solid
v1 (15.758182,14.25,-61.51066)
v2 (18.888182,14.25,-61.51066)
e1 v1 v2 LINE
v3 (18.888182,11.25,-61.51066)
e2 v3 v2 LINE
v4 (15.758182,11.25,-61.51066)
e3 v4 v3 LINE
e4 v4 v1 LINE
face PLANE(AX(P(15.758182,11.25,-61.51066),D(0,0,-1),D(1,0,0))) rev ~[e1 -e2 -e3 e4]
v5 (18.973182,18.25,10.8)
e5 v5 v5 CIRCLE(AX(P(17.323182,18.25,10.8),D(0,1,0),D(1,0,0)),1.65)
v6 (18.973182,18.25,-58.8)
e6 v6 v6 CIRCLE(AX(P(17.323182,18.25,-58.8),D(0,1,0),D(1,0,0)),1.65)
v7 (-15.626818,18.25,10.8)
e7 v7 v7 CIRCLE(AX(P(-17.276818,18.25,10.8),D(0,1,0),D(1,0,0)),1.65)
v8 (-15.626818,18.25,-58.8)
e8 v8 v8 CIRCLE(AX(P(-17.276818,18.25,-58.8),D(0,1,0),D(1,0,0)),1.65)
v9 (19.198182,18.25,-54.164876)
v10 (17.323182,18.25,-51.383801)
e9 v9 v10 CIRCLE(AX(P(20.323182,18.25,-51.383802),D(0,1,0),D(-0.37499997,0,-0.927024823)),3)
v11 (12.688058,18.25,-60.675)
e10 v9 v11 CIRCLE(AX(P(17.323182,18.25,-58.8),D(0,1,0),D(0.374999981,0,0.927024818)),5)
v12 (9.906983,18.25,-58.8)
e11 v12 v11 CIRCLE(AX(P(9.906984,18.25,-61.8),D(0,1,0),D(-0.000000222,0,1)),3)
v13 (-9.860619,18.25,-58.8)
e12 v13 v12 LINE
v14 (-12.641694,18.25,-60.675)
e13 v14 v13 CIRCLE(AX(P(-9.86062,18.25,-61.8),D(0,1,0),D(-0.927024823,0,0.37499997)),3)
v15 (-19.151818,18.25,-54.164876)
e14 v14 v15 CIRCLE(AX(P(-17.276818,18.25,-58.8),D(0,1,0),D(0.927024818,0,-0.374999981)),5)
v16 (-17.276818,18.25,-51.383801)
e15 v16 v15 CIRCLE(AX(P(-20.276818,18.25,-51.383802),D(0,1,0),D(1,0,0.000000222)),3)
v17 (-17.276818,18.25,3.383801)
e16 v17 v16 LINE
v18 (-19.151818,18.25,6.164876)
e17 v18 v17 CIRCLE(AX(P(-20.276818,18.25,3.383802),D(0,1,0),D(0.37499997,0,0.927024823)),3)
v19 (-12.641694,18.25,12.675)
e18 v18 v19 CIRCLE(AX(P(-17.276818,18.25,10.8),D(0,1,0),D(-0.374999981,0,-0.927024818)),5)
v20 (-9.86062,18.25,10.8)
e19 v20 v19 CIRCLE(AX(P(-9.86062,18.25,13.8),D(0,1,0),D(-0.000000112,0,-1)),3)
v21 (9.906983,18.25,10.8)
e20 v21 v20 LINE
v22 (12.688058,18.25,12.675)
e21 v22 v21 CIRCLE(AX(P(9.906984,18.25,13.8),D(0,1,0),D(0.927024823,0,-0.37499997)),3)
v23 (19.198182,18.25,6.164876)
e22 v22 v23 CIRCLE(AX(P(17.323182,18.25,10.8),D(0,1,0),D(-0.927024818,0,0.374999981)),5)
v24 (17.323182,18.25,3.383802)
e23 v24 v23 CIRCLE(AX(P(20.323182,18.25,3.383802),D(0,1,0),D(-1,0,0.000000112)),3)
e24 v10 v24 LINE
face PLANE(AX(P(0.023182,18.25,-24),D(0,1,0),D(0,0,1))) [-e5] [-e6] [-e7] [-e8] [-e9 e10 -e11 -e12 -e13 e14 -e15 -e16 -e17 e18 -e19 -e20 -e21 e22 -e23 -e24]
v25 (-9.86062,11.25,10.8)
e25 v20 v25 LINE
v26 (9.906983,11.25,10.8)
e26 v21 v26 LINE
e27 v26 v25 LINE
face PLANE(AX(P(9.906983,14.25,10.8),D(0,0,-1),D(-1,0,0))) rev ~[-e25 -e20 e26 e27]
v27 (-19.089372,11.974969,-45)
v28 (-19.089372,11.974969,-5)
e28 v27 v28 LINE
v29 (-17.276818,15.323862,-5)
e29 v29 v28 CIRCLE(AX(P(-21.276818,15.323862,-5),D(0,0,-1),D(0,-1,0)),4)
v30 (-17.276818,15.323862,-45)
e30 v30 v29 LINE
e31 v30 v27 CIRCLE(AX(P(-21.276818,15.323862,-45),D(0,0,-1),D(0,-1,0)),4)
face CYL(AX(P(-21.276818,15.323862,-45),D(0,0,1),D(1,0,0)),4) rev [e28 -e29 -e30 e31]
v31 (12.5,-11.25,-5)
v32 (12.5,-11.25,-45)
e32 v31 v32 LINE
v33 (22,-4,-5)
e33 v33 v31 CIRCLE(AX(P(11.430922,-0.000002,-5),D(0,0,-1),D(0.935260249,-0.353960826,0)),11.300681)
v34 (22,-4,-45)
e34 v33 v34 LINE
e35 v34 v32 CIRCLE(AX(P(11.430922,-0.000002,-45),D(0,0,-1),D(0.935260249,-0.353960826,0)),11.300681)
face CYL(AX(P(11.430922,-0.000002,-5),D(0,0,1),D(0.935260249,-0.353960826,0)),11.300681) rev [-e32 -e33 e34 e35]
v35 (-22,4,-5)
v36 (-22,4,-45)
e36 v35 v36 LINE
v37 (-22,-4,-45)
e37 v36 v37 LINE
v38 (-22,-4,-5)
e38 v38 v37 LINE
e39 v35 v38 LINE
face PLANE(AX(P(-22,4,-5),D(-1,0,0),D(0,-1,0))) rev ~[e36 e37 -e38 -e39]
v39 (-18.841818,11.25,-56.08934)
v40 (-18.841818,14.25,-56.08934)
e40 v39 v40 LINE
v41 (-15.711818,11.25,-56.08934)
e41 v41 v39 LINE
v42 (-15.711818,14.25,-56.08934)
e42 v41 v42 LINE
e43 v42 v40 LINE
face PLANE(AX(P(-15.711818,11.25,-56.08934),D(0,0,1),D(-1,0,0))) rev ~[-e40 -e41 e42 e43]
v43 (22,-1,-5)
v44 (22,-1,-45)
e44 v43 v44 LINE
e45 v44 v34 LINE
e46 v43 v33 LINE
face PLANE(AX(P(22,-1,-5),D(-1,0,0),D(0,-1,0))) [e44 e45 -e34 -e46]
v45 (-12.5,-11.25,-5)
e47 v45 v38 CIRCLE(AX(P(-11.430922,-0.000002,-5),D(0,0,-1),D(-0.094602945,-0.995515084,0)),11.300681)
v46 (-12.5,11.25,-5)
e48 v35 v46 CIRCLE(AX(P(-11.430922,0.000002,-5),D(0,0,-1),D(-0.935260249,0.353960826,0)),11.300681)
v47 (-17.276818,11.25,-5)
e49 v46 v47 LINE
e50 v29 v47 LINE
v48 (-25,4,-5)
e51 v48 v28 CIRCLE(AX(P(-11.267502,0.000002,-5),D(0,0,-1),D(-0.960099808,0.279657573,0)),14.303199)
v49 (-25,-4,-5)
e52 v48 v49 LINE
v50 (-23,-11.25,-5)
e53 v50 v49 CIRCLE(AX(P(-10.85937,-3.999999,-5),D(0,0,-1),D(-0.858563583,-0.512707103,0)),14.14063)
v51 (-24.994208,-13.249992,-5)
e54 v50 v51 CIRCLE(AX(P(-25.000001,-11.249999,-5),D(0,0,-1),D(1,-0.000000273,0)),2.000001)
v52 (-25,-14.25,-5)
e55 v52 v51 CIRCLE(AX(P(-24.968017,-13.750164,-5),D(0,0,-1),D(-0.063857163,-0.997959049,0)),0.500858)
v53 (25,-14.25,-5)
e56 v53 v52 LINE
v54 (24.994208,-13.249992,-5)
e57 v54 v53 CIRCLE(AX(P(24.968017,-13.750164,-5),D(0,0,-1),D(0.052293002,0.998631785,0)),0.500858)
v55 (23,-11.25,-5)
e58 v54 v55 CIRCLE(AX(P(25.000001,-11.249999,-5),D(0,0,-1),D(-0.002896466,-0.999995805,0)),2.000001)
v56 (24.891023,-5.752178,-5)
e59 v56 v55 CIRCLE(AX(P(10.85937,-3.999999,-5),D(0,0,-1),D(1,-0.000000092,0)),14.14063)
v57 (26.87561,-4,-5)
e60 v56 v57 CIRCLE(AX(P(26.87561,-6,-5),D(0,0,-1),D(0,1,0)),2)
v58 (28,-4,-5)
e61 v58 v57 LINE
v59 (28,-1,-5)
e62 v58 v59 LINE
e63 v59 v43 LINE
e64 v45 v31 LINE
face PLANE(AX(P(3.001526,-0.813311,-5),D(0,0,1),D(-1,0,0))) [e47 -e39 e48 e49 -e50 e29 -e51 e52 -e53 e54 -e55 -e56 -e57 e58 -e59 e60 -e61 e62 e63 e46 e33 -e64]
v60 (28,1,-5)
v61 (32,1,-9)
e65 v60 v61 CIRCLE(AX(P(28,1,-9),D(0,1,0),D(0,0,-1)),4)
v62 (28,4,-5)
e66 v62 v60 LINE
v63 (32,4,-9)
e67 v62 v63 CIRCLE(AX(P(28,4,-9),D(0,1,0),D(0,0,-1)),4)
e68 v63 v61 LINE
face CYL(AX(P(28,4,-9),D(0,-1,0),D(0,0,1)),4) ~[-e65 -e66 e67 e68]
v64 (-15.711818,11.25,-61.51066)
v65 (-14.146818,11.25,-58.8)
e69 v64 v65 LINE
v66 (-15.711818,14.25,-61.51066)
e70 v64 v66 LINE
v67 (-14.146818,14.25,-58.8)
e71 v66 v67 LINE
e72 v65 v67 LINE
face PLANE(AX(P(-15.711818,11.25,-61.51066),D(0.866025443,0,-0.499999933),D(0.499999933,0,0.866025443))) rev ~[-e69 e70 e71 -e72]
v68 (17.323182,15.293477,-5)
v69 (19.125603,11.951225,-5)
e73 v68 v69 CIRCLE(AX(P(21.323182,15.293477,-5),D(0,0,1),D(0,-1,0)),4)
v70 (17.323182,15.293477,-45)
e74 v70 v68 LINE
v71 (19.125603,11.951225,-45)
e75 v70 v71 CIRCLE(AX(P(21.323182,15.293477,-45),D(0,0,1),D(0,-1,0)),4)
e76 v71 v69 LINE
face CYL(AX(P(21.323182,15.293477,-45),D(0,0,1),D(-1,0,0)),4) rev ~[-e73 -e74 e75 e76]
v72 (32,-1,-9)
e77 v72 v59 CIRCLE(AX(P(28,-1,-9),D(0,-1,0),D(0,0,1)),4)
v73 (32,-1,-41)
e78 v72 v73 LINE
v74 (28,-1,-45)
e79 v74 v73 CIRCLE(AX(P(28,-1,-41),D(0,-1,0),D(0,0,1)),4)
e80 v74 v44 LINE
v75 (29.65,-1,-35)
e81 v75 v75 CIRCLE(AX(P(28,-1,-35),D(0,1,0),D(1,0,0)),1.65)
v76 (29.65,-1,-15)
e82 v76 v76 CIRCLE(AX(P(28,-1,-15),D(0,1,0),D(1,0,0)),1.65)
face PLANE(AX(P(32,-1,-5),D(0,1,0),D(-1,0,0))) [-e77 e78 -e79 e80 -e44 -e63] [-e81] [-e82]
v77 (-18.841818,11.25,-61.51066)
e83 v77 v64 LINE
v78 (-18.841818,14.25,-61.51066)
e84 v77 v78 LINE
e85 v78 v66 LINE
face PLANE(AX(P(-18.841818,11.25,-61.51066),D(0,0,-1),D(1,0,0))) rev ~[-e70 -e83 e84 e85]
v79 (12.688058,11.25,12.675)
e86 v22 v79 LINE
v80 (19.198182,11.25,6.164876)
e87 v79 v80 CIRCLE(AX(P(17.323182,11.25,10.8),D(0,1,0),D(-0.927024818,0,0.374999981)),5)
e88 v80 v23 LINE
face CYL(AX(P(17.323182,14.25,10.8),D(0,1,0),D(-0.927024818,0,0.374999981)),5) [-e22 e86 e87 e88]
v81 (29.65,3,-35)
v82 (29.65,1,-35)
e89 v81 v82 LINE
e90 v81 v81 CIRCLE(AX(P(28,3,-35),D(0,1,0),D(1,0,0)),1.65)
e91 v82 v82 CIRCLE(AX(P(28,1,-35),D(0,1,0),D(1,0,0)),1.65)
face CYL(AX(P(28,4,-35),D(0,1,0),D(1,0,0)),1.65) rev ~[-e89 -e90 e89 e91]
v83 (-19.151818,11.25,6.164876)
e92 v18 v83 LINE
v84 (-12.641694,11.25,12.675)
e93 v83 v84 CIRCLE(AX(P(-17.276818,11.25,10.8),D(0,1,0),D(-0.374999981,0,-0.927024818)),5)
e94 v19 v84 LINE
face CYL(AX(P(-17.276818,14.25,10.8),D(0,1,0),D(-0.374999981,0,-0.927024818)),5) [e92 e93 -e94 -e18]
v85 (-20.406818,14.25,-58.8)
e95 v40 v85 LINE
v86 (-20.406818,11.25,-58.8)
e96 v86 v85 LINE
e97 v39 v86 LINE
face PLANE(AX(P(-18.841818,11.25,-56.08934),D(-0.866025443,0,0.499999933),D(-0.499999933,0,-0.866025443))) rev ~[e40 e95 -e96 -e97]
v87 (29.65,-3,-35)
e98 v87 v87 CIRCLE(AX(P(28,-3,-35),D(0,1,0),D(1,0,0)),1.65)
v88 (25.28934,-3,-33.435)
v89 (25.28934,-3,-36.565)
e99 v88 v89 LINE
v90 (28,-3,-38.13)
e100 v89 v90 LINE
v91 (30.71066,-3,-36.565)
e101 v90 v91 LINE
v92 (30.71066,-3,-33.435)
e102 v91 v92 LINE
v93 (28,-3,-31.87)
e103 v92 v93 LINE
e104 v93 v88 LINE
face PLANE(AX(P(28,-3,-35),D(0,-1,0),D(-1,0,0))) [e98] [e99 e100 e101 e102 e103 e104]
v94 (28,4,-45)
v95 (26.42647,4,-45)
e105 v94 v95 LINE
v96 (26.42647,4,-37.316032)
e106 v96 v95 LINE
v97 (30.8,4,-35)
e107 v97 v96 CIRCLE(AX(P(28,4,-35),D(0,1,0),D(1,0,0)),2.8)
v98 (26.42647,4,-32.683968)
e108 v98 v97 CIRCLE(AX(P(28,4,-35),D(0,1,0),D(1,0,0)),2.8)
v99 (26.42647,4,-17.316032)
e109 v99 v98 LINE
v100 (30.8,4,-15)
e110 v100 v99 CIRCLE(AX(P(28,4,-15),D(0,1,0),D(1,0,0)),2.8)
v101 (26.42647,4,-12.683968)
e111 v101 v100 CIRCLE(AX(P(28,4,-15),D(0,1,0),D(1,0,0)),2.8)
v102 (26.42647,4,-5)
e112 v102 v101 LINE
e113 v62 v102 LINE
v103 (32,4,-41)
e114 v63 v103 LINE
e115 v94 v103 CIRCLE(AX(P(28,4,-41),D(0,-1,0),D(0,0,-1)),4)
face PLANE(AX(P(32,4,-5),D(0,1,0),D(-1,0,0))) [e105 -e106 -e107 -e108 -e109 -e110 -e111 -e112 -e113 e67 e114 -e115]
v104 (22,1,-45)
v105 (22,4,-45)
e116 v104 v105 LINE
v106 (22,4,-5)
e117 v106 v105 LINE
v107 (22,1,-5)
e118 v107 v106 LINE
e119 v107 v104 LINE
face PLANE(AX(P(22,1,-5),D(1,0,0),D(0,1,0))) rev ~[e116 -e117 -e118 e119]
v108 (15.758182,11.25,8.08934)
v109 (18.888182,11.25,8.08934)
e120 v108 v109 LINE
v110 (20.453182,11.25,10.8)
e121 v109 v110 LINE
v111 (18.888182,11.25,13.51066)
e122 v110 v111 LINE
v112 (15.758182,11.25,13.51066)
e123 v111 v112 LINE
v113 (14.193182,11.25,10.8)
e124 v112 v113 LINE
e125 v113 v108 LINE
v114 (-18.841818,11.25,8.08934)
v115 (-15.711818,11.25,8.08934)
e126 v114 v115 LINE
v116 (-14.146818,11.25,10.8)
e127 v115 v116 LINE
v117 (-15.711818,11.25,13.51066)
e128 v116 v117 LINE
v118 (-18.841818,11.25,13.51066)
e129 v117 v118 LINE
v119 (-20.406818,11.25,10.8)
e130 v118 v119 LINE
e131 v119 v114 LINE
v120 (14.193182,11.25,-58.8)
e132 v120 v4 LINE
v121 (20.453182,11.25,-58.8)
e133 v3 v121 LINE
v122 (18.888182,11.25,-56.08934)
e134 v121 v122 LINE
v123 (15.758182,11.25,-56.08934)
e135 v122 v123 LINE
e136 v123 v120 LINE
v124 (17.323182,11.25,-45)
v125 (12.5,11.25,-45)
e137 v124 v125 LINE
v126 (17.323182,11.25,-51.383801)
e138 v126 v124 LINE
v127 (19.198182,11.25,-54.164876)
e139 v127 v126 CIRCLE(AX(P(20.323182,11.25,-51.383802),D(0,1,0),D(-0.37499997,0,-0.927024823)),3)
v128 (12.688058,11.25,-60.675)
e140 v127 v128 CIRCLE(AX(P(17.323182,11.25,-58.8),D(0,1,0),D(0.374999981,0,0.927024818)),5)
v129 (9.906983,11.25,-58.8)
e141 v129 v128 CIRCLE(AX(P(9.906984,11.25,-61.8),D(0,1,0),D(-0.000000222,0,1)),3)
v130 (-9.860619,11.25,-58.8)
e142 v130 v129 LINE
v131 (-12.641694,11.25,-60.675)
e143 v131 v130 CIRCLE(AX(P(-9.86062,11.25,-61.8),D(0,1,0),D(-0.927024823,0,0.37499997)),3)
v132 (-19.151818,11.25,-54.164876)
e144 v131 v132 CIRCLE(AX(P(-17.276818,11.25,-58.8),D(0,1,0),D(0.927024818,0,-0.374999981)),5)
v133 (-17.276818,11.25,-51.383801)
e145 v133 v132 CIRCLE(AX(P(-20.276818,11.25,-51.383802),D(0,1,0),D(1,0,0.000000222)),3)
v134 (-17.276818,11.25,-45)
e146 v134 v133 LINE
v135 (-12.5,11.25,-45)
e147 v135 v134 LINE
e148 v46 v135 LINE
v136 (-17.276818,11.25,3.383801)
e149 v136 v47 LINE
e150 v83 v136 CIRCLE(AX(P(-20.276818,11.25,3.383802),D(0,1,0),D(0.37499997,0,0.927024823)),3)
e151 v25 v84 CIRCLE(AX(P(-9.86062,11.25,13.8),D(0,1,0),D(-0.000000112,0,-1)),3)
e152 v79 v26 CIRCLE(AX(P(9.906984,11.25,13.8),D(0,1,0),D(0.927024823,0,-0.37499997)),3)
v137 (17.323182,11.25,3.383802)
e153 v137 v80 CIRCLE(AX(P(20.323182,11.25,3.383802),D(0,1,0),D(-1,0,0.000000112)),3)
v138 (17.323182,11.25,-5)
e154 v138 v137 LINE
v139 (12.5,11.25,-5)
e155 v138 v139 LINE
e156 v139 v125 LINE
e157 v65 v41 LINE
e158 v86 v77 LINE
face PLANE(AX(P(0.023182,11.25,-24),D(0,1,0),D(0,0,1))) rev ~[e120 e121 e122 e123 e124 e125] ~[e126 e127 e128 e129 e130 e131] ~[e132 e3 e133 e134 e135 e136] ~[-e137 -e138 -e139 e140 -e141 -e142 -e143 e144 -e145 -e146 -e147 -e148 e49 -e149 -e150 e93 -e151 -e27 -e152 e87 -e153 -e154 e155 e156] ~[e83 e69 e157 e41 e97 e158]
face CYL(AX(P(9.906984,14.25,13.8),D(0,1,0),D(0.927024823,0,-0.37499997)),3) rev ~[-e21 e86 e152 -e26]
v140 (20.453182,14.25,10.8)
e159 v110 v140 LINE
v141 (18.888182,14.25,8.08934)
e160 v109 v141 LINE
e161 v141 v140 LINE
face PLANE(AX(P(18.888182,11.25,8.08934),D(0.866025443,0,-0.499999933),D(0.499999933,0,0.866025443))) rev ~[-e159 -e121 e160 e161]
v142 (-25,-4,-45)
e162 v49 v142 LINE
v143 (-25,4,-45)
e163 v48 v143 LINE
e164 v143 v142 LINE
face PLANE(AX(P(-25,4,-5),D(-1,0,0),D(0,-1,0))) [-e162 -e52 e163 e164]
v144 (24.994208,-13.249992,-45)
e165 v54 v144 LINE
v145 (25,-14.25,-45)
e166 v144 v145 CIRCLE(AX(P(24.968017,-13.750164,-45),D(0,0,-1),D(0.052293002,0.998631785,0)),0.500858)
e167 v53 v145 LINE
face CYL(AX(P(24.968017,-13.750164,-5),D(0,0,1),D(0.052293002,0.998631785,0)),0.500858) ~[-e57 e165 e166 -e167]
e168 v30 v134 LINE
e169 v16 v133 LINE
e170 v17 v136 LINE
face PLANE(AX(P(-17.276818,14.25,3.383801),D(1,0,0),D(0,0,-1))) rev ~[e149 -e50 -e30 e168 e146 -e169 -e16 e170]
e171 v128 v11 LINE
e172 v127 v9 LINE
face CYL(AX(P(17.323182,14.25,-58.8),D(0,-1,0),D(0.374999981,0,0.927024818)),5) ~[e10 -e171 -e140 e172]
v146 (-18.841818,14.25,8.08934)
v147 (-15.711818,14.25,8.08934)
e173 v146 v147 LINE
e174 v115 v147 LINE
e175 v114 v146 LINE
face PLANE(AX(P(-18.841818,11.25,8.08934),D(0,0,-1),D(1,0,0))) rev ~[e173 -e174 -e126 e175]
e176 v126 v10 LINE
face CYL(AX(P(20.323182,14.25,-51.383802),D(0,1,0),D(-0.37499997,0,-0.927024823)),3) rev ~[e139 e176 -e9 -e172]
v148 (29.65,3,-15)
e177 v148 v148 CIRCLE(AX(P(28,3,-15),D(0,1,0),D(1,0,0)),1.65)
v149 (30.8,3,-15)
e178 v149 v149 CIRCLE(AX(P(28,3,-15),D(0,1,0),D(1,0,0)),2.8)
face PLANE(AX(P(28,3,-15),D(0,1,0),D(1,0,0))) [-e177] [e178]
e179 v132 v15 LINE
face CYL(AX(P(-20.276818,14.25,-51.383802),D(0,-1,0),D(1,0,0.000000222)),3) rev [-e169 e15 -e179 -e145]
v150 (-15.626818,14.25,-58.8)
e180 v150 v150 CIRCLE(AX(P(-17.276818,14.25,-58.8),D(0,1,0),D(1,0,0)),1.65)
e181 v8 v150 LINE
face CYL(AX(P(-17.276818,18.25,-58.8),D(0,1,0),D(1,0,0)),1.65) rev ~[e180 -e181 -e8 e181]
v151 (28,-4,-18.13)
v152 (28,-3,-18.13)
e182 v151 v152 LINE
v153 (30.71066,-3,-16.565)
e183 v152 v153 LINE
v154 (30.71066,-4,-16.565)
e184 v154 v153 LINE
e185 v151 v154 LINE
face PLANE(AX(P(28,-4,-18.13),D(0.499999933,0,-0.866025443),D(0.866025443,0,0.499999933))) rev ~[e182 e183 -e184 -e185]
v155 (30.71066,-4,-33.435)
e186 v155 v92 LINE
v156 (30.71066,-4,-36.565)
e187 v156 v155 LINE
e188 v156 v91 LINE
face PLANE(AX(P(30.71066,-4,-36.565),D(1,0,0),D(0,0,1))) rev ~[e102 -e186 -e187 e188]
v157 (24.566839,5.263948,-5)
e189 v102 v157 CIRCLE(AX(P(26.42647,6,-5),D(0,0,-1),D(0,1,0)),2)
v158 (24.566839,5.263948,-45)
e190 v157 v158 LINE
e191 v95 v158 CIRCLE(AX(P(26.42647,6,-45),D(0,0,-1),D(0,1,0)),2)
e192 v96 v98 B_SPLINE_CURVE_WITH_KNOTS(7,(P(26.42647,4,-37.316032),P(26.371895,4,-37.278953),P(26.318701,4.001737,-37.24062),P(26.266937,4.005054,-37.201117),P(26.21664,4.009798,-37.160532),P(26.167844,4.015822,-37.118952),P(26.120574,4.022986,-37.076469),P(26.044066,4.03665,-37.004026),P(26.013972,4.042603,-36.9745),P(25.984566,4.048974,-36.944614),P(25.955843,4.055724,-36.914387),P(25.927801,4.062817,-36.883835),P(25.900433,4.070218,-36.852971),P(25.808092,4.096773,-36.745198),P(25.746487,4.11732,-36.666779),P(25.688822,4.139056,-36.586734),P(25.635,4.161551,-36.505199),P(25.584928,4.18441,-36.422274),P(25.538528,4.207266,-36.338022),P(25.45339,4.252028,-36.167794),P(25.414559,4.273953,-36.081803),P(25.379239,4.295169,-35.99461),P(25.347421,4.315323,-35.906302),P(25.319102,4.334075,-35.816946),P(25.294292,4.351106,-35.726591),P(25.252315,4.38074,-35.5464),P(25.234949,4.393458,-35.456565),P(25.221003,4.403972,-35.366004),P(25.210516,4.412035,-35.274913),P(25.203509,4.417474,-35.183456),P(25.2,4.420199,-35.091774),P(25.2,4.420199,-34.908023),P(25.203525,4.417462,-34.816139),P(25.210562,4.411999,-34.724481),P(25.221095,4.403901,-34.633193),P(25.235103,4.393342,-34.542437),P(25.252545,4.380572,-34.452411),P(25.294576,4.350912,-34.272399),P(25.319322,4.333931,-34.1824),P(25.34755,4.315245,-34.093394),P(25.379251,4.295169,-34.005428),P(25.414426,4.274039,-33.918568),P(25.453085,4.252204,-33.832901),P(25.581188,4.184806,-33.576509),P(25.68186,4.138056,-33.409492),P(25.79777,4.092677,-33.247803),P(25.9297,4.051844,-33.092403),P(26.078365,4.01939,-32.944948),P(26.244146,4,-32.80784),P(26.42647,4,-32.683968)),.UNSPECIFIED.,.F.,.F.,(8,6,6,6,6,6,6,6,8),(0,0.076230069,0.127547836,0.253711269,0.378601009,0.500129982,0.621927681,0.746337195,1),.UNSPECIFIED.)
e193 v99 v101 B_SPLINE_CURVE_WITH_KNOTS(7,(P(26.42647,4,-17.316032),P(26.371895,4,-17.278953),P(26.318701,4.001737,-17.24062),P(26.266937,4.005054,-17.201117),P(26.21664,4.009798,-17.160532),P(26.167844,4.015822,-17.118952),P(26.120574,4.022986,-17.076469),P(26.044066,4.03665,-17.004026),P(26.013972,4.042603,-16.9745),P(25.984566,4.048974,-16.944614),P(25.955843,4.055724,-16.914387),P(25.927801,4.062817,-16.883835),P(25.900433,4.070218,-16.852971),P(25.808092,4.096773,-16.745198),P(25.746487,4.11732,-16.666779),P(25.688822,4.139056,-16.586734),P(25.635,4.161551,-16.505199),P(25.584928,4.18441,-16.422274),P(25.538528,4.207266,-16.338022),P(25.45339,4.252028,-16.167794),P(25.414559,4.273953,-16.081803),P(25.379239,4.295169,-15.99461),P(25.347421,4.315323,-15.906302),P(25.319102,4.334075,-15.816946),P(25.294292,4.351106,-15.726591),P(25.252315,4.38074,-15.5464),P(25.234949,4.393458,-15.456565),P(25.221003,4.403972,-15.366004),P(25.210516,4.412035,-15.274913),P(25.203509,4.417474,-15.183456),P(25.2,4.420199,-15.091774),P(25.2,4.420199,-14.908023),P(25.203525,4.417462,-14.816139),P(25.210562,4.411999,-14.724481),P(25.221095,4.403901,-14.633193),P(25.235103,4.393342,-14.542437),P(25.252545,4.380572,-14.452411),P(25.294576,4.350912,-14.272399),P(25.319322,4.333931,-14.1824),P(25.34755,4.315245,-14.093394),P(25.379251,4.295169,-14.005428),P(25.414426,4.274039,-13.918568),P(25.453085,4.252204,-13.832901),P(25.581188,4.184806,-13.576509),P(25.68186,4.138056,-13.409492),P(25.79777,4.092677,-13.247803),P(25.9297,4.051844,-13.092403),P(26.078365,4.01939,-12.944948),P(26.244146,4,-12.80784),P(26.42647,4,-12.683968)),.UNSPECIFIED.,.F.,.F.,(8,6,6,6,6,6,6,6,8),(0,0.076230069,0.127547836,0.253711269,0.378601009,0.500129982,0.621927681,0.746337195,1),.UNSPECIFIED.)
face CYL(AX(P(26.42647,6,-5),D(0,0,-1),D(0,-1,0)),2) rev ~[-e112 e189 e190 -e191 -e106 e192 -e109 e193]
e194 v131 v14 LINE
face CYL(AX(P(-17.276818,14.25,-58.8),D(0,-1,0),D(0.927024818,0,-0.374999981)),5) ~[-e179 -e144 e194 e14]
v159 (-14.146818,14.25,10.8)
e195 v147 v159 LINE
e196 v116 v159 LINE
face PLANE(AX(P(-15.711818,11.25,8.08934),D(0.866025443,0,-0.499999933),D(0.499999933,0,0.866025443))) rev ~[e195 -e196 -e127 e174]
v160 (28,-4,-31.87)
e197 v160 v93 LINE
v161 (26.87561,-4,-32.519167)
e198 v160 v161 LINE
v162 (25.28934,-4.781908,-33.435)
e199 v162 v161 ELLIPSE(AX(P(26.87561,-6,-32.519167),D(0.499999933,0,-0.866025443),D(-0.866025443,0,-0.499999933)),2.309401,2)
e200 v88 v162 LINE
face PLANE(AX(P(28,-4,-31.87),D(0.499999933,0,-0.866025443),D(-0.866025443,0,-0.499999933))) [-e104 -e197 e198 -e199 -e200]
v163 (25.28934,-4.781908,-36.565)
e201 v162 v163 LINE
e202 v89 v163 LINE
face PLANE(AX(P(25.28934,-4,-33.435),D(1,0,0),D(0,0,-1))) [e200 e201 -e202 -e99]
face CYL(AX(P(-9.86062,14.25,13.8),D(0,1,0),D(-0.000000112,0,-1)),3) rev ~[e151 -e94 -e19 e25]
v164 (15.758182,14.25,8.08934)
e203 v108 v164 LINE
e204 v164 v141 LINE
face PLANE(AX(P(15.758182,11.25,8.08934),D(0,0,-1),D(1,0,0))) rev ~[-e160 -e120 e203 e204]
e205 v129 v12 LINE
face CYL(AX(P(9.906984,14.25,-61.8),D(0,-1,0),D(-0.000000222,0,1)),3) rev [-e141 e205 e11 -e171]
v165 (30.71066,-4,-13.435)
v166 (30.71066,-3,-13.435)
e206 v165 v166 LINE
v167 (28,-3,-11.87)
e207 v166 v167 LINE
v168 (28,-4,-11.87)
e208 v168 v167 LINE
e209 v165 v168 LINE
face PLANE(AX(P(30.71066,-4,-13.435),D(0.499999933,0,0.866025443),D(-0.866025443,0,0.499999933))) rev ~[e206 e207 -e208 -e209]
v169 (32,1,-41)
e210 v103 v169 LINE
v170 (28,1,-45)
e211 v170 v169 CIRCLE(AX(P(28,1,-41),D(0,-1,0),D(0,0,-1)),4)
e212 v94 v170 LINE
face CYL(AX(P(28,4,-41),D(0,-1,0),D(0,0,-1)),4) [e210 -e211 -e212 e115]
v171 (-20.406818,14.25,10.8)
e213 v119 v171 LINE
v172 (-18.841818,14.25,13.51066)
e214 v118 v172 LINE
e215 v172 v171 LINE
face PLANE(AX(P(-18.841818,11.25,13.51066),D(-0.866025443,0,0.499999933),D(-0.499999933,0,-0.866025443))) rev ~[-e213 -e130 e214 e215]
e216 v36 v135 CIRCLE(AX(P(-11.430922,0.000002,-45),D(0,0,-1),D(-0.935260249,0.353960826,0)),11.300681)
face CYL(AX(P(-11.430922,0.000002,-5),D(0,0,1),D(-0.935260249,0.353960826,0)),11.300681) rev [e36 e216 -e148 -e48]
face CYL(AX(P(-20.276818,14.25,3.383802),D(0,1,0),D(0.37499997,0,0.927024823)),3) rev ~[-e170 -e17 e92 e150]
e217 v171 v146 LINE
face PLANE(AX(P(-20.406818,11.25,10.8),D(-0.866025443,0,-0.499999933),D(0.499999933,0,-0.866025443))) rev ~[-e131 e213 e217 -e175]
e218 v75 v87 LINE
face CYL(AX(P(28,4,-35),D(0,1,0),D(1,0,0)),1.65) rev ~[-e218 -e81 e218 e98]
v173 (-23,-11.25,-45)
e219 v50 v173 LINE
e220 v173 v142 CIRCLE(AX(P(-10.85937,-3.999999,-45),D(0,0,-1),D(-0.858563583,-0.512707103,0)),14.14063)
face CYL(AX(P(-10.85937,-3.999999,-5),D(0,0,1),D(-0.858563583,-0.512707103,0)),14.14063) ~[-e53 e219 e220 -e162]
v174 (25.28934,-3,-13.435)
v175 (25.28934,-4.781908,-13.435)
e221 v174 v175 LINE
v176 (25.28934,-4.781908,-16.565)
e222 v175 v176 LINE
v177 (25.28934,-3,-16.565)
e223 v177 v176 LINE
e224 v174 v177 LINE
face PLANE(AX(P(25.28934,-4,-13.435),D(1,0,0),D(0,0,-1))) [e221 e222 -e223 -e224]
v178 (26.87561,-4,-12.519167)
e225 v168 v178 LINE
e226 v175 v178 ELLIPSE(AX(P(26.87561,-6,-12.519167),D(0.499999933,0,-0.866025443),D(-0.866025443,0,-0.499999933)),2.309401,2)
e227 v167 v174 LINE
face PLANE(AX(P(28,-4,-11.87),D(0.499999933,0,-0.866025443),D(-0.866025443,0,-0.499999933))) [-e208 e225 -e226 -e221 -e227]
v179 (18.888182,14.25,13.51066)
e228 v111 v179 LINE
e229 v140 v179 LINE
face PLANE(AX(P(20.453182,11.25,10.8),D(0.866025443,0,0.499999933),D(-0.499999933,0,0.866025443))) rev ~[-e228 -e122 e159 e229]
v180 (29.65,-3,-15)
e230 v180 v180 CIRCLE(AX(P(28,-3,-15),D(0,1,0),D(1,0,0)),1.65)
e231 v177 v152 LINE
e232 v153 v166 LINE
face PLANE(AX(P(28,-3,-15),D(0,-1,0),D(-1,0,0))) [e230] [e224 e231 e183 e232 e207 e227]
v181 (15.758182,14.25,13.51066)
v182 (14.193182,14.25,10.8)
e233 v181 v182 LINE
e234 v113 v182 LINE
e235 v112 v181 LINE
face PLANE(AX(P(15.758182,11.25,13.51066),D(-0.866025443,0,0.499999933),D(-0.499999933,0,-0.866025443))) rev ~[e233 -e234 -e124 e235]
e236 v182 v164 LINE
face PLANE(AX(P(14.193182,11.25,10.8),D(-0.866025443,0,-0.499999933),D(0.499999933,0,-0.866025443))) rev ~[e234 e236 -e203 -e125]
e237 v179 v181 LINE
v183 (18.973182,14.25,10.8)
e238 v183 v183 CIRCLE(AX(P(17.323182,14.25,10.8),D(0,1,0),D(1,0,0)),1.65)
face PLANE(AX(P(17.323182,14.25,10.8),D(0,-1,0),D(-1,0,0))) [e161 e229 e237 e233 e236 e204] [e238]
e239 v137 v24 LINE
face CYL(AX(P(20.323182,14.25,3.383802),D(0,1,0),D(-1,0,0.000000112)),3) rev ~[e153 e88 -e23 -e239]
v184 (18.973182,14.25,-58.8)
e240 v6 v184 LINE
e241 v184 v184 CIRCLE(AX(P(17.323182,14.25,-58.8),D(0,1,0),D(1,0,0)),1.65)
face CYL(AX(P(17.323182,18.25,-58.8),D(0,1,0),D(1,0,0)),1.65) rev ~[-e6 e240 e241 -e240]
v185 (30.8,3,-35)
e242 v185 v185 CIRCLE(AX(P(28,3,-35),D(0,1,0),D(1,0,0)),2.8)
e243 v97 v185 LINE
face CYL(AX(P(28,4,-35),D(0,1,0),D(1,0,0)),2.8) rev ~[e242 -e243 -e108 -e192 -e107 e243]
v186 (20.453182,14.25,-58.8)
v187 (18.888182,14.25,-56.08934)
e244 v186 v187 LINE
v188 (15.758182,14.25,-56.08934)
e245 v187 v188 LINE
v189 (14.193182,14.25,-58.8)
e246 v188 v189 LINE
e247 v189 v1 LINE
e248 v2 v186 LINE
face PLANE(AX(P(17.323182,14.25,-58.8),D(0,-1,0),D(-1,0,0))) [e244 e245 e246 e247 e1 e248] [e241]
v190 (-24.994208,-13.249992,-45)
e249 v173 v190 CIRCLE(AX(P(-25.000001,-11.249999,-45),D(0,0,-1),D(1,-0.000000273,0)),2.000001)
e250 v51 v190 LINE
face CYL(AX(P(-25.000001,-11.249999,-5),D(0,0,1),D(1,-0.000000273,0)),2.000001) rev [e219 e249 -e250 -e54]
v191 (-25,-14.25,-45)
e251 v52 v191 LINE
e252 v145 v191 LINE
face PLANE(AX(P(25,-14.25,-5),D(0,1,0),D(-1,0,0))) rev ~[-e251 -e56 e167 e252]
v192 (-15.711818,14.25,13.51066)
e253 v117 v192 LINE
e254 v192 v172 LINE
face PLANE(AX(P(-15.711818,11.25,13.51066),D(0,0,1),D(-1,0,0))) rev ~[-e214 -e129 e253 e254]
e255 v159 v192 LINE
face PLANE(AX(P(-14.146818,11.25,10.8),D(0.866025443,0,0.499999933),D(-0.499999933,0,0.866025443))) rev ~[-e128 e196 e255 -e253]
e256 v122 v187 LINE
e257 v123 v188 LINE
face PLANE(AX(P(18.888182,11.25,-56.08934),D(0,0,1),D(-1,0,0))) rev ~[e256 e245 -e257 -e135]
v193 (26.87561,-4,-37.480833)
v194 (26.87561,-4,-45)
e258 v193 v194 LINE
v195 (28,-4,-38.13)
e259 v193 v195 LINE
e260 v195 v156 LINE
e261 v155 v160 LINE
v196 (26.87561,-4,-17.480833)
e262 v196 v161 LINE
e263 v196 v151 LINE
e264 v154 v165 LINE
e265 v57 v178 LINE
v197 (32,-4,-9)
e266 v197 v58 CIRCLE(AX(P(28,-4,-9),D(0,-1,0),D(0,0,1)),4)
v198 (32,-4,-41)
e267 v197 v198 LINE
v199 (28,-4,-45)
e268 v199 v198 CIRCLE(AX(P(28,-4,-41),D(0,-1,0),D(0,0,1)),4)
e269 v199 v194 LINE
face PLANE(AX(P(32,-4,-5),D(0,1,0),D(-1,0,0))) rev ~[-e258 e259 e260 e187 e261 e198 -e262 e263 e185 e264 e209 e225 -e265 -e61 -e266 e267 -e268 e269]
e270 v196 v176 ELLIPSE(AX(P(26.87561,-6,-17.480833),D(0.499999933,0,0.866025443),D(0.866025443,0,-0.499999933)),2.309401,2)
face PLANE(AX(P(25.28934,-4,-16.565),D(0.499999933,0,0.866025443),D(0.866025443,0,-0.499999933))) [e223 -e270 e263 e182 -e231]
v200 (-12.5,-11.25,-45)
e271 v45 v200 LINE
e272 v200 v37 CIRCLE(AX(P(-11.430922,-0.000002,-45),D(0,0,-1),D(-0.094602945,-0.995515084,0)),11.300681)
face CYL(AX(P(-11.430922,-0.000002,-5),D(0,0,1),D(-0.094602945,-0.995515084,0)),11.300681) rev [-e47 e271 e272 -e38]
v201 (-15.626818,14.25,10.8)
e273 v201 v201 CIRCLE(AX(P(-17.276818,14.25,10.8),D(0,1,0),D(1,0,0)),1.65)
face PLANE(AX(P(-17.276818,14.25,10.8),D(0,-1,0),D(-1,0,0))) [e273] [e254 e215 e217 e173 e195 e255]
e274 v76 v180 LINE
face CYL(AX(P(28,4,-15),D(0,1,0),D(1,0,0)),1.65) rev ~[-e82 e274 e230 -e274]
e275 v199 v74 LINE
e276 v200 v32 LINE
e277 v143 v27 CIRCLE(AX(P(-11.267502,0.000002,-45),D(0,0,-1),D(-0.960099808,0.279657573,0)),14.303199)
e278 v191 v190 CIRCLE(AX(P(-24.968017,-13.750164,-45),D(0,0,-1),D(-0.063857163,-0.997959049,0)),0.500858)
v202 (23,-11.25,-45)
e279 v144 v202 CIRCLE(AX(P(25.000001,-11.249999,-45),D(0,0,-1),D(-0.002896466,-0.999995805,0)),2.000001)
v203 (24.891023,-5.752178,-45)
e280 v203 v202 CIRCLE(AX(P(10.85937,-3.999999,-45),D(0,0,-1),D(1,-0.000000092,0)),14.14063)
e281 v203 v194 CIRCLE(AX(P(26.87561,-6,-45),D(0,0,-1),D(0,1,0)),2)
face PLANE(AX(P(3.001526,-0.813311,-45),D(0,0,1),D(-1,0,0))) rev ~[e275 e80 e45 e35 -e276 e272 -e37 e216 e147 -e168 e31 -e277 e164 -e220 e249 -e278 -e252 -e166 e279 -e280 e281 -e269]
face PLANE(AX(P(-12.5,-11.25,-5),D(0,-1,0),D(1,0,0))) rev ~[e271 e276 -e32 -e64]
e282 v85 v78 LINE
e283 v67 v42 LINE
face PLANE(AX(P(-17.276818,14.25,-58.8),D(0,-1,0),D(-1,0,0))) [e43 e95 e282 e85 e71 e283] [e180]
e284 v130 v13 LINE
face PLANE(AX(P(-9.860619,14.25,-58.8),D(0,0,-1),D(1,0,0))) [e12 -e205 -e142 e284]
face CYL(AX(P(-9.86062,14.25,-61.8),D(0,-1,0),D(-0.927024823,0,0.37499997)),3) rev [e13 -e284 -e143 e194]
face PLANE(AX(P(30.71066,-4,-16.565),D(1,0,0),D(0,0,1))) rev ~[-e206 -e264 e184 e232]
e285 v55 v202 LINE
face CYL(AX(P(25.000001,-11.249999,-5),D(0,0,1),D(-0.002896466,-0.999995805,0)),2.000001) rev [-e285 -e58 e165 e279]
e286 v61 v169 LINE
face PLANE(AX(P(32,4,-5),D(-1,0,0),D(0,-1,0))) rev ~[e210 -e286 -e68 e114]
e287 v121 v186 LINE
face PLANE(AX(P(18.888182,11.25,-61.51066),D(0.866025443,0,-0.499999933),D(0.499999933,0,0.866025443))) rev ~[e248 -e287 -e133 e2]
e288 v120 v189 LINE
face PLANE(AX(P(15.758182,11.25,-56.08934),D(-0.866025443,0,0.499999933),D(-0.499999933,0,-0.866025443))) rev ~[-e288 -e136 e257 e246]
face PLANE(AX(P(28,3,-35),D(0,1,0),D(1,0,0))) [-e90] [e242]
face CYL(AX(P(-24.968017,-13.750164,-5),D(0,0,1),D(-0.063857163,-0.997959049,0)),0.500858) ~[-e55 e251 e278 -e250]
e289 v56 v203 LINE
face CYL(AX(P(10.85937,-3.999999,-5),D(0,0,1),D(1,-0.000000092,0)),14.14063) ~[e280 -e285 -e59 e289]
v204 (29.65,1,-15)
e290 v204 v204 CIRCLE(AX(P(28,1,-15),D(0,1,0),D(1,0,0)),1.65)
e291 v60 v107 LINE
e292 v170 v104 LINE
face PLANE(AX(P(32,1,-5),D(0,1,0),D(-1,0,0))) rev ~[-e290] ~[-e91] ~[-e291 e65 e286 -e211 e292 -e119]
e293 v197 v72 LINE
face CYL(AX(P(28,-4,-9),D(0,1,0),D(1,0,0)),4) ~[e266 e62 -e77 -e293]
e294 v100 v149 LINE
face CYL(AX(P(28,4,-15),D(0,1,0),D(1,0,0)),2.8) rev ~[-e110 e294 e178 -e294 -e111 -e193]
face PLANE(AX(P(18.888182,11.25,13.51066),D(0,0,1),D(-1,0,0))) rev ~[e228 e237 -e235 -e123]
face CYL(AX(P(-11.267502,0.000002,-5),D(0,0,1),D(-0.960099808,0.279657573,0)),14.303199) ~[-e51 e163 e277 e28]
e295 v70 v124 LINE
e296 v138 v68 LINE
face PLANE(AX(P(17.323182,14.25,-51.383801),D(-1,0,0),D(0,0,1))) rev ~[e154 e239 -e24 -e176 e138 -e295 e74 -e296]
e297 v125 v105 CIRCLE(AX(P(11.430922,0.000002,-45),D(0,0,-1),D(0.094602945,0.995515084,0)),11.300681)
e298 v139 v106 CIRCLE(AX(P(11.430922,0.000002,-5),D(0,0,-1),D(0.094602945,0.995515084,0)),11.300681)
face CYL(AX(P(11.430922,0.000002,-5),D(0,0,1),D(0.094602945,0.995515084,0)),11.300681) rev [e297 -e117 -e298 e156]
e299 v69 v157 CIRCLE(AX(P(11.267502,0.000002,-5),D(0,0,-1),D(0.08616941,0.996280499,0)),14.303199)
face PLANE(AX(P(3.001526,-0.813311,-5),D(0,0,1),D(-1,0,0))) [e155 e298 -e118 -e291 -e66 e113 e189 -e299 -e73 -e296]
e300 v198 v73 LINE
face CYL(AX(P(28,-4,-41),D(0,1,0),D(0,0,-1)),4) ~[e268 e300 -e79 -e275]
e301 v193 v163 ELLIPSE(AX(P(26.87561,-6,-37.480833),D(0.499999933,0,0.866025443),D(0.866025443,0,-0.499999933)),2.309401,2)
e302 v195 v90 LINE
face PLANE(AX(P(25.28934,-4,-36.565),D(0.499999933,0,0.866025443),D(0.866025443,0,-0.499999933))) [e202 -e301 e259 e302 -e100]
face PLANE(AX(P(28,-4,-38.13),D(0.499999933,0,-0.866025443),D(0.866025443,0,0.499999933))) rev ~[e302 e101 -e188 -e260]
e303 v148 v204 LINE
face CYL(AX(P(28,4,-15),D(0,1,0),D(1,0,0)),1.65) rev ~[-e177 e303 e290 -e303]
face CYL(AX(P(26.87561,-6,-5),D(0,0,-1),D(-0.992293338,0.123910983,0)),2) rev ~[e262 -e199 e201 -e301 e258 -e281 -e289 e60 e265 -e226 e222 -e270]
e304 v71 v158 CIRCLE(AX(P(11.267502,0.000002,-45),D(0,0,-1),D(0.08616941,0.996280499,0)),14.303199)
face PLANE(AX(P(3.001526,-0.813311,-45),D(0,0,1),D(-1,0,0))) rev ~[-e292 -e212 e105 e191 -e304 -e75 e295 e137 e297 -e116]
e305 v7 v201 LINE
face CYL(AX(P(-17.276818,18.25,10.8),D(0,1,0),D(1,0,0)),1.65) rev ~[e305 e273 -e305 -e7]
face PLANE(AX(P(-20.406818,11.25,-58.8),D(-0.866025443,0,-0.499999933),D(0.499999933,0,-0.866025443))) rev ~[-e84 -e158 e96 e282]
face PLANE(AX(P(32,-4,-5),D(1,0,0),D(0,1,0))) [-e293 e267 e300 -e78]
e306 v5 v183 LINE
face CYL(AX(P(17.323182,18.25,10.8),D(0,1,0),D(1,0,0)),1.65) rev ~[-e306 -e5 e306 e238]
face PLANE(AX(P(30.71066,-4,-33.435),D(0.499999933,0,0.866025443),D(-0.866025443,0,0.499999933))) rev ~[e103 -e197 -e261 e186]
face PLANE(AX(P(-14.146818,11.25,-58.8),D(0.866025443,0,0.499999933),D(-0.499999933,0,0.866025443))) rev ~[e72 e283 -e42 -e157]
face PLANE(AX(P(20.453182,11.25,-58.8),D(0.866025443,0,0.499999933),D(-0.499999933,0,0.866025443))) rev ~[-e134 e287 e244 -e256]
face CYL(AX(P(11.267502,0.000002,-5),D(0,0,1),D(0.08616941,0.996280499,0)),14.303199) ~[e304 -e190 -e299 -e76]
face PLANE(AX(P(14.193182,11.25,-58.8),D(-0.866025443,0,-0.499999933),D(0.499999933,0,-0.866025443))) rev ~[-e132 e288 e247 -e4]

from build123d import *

# Parameters (mm, degrees)
PAD_DEPTH            = 40
PAD001_DEPTH         = 4
PAD001_DEPTH_BACK    = 3
FILLET_R             = 2
FILLET001_R          = 4
FILLET002_R          = 4
SKETCH_R             = 1.65
HOLE_DEPTH           = 32.501
SKETCH003_R          = 1.65
HOLE001_DEPTH        = 18.251
POCKET_DEPTH         = 1
POCKET_DEPTH_BACK    = 2
SKETCH005_R          = 2.8
POCKET001_DEPTH      = 1
POCKET001_DEPTH_BACK = 2
POCKET002_DEPTH      = 3


with BuildPart() as part:
    # Sketch001 → Pad (new body)
    with BuildSketch(Plane(origin=(0, 0, -5), x_dir=(1, 0, 0), z_dir=(0, 0, -1))):
        with BuildLine():
            ThreePointArc((12.5, -11.25), (18.286744, -8.983492), (22, -4))
            Line((22, -1), (22, -4))
            Line((32, -1), (22, -1))
            Line((32, -4), (32, -1))
            Line((32, -4), (25, -4))
            ThreePointArc((12.5, -14.25), (20.336868, -11.060205), (25, -4))
            Line((-12.5, -14.25), (12.5, -14.25))
            ThreePointArc((-25, -4), (-20.336868, -11.060205), (-12.5, -14.25))
            Line((-25, -4), (-25, 4))
            ThreePointArc((-23, 11.25), (-24.490833, 7.760402), (-25, 4))
            ThreePointArc((-23, 11.25), (-23.58374, 12.662164), (-24.994208, 13.249992))
            ThreePointArc((-25, 14.25), (-25.468866, 13.747264), (-24.994208, 13.249992))
            Line((-12.5, 14.25), (-25, 14.25))
            Line((12.5, 14.25), (-12.5, 14.25))
            Line((12.5, 14.25), (25, 14.25))
            ThreePointArc((24.994208, 13.249992), (25.468866, 13.747264), (25, 14.25))
            ThreePointArc((24.994208, 13.249992), (23.58374, 12.662164), (23, 11.25))
            ThreePointArc((25, 4), (24.490833, 7.760402), (23, 11.25))
            Line((32, 4), (25, 4))
            Line((32, 4), (32, 1))
            Line((32, 1), (22, 1))
            Line((22, 1), (22, 4))
            ThreePointArc((22, 4), (18.286744, 8.983492), (12.5, 11.25))
            Line((-12.5, 11.25), (12.5, 11.25))
            ThreePointArc((-12.5, 11.25), (-18.286744, 8.983492), (-22, 4))
            Line((-22, -4), (-22, 4))
            ThreePointArc((-22, -4), (-18.286744, -8.983492), (-12.5, -11.25))
            Line((-12.5, -11.25), (12.5, -11.25))
        make_face()
    extrude(amount=PAD_DEPTH)

    # Sketch002 (on Face3 of Pad) → Pad001 (join, two sides)
    with BuildSketch(Plane(origin=(0.023182, 14.25, -24), x_dir=(0, 0, 1), z_dir=(0, 1, 0))) as pad001_sk:
        with BuildLine():
            ThreePointArc((36.675, 12.664876), (38.335534, 20.835534), (30.164876, 19.175))
            ThreePointArc((27.383802, 17.3), (29.060852, 17.812531), (30.164876, 19.175))
            Line((-27.383801, 17.3), (27.383802, 17.3))
            ThreePointArc((-30.164876, 19.175), (-29.060852, 17.812531), (-27.383801, 17.3))
            ThreePointArc((-30.164876, 19.175), (-38.335534, 20.835534), (-36.675, 12.664876))
            ThreePointArc((-34.8, 9.883801), (-35.312531, 11.560852), (-36.675, 12.664876))
            Line((-34.8, -9.883801), (-34.8, 9.883801))
            ThreePointArc((-36.675, -12.664876), (-35.312531, -11.560852), (-34.8, -9.883801))
            ThreePointArc((-36.675, -12.664876), (-38.335534, -20.835534), (-30.164876, -19.175))
            ThreePointArc((-27.383801, -17.3), (-29.060852, -17.812531), (-30.164876, -19.175))
            Line((27.383801, -17.3), (-27.383801, -17.3))
            ThreePointArc((30.164876, -19.175), (29.060852, -17.812531), (27.383801, -17.3))
            ThreePointArc((30.164876, -19.175), (38.335534, -20.835534), (36.675, -12.664876))
            ThreePointArc((34.8, -9.883802), (35.312531, -11.560852), (36.675, -12.664876))
            Line((34.8, 9.883801), (34.8, -9.883802))
            ThreePointArc((36.675, 12.664876), (35.312531, 11.560852), (34.8, 9.883801))
        make_face()
    extrude(amount=PAD001_DEPTH)
    extrude(pad001_sk.sketch, amount=-PAD001_DEPTH_BACK)

    # Fillet
    fillet_edges = [part.edges().sort_by_distance(p)[0] for p in [
        (25, 4, -25),
        (25, -4, -25),
    ]]
    fillet(fillet_edges, radius=FILLET_R)

    # Fillet001
    fillet001_edges = [part.edges().sort_by_distance(p)[0] for p in [
        (32, -2.5, -45),
        (32, 2.5, -45),
        (32, 2.5, -5),
        (32, -2.5, -5),
    ]]
    fillet(fillet001_edges, radius=FILLET001_R)

    # Fillet002
    fillet002_edges = [part.edges().sort_by_distance(p)[0] for p in [
        (17.323182, 12.95802, -25),
        (-17.276818, 12.979586, -25),
    ]]
    fillet(fillet002_edges, radius=FILLET002_R)

    # Sketch (on Face29 of Pad001) → Hole (cut, through all)
    with BuildSketch(Plane(origin=(0, 18.25, -5), x_dir=(1, 0, 0), z_dir=(0, 1, 0))):
        with Locations((17.323182, -15.8)):
            Circle(SKETCH_R)
        with Locations((-17.276818, -15.8)):
            Circle(SKETCH_R)
        with Locations((17.323182, 53.8)):
            Circle(SKETCH_R)
        with Locations((-17.276818, 53.8)):
            Circle(SKETCH_R)
    extrude(amount=-HOLE_DEPTH, mode=Mode.SUBTRACT)

    # Sketch003 (on Face56 of Hole) → Hole001 (cut, through all)
    with BuildSketch(Plane(origin=(0, 4, -5), x_dir=(1, 0, 0), z_dir=(0, 1, 0))):
        with Locations((28, 30)):
            Circle(SKETCH003_R)
        with Locations((28, 10)):
            Circle(SKETCH003_R)
    extrude(amount=-HOLE001_DEPTH, mode=Mode.SUBTRACT)

    # Sketch004 (on Face25 of Hole001) → Pocket (cut, two sides)
    with BuildSketch(Plane(origin=(0, -4, -5), x_dir=(-1, 0, 0), z_dir=(0, -1, 0))) as pocket_sk:
        Polygon((-30.71066, 31.565), (-30.71066, 28.435), (-28, 26.87), (-25.28934, 28.435), (-25.28934, 31.565), (-28, 33.13), align=None)
        Polygon((-28, 13.13), (-30.71066, 11.565), (-30.71066, 8.435), (-28, 6.87), (-25.28934, 8.435), (-25.28934, 11.565), align=None)
    extrude(amount=-POCKET_DEPTH, mode=Mode.SUBTRACT)
    extrude(pocket_sk.sketch, amount=POCKET_DEPTH_BACK, mode=Mode.SUBTRACT)

    # Sketch005 (on Face66 of Pocket) → Pocket001 (cut, two sides)
    with BuildSketch(Plane(origin=(0, 4, -5), x_dir=(1, 0, 0), z_dir=(0, 1, 0))) as pocket001_sk:
        with Locations((28, 30)):
            Circle(SKETCH005_R)
        with Locations((28, 10)):
            Circle(SKETCH005_R)
    extrude(amount=-POCKET001_DEPTH, mode=Mode.SUBTRACT)
    extrude(pocket001_sk.sketch, amount=POCKET001_DEPTH_BACK, mode=Mode.SUBTRACT)

    # Sketch006 (on Face8 of Pocket001) → Pocket002 (cut)
    with BuildSketch(Plane(origin=(0, 11.25, -5), x_dir=(-1, 0, 0), z_dir=(0, -1, 0))):
        Polygon((20.406818, -15.8), (18.841818, -13.08934), (15.711818, -13.08934), (14.146818, -15.8), (15.711818, -18.51066), (18.841818, -18.51066), align=None)
        Polygon((-14.193182, -15.8), (-15.758182, -13.08934), (-18.888182, -13.08934), (-20.453182, -15.8), (-18.888182, -18.51066), (-15.758182, -18.51066), align=None)
        Polygon((20.406818, 53.8), (18.841818, 56.51066), (15.711818, 56.51066), (14.146818, 53.8), (15.711818, 51.08934), (18.841818, 51.08934), align=None)
        Polygon((-14.193182, 53.8), (-15.758182, 56.51066), (-18.888182, 56.51066), (-20.453182, 53.8), (-18.888182, 51.08934), (-15.758182, 51.08934), align=None)
    extrude(amount=-POCKET002_DEPTH, mode=Mode.SUBTRACT)


solid = part.part
